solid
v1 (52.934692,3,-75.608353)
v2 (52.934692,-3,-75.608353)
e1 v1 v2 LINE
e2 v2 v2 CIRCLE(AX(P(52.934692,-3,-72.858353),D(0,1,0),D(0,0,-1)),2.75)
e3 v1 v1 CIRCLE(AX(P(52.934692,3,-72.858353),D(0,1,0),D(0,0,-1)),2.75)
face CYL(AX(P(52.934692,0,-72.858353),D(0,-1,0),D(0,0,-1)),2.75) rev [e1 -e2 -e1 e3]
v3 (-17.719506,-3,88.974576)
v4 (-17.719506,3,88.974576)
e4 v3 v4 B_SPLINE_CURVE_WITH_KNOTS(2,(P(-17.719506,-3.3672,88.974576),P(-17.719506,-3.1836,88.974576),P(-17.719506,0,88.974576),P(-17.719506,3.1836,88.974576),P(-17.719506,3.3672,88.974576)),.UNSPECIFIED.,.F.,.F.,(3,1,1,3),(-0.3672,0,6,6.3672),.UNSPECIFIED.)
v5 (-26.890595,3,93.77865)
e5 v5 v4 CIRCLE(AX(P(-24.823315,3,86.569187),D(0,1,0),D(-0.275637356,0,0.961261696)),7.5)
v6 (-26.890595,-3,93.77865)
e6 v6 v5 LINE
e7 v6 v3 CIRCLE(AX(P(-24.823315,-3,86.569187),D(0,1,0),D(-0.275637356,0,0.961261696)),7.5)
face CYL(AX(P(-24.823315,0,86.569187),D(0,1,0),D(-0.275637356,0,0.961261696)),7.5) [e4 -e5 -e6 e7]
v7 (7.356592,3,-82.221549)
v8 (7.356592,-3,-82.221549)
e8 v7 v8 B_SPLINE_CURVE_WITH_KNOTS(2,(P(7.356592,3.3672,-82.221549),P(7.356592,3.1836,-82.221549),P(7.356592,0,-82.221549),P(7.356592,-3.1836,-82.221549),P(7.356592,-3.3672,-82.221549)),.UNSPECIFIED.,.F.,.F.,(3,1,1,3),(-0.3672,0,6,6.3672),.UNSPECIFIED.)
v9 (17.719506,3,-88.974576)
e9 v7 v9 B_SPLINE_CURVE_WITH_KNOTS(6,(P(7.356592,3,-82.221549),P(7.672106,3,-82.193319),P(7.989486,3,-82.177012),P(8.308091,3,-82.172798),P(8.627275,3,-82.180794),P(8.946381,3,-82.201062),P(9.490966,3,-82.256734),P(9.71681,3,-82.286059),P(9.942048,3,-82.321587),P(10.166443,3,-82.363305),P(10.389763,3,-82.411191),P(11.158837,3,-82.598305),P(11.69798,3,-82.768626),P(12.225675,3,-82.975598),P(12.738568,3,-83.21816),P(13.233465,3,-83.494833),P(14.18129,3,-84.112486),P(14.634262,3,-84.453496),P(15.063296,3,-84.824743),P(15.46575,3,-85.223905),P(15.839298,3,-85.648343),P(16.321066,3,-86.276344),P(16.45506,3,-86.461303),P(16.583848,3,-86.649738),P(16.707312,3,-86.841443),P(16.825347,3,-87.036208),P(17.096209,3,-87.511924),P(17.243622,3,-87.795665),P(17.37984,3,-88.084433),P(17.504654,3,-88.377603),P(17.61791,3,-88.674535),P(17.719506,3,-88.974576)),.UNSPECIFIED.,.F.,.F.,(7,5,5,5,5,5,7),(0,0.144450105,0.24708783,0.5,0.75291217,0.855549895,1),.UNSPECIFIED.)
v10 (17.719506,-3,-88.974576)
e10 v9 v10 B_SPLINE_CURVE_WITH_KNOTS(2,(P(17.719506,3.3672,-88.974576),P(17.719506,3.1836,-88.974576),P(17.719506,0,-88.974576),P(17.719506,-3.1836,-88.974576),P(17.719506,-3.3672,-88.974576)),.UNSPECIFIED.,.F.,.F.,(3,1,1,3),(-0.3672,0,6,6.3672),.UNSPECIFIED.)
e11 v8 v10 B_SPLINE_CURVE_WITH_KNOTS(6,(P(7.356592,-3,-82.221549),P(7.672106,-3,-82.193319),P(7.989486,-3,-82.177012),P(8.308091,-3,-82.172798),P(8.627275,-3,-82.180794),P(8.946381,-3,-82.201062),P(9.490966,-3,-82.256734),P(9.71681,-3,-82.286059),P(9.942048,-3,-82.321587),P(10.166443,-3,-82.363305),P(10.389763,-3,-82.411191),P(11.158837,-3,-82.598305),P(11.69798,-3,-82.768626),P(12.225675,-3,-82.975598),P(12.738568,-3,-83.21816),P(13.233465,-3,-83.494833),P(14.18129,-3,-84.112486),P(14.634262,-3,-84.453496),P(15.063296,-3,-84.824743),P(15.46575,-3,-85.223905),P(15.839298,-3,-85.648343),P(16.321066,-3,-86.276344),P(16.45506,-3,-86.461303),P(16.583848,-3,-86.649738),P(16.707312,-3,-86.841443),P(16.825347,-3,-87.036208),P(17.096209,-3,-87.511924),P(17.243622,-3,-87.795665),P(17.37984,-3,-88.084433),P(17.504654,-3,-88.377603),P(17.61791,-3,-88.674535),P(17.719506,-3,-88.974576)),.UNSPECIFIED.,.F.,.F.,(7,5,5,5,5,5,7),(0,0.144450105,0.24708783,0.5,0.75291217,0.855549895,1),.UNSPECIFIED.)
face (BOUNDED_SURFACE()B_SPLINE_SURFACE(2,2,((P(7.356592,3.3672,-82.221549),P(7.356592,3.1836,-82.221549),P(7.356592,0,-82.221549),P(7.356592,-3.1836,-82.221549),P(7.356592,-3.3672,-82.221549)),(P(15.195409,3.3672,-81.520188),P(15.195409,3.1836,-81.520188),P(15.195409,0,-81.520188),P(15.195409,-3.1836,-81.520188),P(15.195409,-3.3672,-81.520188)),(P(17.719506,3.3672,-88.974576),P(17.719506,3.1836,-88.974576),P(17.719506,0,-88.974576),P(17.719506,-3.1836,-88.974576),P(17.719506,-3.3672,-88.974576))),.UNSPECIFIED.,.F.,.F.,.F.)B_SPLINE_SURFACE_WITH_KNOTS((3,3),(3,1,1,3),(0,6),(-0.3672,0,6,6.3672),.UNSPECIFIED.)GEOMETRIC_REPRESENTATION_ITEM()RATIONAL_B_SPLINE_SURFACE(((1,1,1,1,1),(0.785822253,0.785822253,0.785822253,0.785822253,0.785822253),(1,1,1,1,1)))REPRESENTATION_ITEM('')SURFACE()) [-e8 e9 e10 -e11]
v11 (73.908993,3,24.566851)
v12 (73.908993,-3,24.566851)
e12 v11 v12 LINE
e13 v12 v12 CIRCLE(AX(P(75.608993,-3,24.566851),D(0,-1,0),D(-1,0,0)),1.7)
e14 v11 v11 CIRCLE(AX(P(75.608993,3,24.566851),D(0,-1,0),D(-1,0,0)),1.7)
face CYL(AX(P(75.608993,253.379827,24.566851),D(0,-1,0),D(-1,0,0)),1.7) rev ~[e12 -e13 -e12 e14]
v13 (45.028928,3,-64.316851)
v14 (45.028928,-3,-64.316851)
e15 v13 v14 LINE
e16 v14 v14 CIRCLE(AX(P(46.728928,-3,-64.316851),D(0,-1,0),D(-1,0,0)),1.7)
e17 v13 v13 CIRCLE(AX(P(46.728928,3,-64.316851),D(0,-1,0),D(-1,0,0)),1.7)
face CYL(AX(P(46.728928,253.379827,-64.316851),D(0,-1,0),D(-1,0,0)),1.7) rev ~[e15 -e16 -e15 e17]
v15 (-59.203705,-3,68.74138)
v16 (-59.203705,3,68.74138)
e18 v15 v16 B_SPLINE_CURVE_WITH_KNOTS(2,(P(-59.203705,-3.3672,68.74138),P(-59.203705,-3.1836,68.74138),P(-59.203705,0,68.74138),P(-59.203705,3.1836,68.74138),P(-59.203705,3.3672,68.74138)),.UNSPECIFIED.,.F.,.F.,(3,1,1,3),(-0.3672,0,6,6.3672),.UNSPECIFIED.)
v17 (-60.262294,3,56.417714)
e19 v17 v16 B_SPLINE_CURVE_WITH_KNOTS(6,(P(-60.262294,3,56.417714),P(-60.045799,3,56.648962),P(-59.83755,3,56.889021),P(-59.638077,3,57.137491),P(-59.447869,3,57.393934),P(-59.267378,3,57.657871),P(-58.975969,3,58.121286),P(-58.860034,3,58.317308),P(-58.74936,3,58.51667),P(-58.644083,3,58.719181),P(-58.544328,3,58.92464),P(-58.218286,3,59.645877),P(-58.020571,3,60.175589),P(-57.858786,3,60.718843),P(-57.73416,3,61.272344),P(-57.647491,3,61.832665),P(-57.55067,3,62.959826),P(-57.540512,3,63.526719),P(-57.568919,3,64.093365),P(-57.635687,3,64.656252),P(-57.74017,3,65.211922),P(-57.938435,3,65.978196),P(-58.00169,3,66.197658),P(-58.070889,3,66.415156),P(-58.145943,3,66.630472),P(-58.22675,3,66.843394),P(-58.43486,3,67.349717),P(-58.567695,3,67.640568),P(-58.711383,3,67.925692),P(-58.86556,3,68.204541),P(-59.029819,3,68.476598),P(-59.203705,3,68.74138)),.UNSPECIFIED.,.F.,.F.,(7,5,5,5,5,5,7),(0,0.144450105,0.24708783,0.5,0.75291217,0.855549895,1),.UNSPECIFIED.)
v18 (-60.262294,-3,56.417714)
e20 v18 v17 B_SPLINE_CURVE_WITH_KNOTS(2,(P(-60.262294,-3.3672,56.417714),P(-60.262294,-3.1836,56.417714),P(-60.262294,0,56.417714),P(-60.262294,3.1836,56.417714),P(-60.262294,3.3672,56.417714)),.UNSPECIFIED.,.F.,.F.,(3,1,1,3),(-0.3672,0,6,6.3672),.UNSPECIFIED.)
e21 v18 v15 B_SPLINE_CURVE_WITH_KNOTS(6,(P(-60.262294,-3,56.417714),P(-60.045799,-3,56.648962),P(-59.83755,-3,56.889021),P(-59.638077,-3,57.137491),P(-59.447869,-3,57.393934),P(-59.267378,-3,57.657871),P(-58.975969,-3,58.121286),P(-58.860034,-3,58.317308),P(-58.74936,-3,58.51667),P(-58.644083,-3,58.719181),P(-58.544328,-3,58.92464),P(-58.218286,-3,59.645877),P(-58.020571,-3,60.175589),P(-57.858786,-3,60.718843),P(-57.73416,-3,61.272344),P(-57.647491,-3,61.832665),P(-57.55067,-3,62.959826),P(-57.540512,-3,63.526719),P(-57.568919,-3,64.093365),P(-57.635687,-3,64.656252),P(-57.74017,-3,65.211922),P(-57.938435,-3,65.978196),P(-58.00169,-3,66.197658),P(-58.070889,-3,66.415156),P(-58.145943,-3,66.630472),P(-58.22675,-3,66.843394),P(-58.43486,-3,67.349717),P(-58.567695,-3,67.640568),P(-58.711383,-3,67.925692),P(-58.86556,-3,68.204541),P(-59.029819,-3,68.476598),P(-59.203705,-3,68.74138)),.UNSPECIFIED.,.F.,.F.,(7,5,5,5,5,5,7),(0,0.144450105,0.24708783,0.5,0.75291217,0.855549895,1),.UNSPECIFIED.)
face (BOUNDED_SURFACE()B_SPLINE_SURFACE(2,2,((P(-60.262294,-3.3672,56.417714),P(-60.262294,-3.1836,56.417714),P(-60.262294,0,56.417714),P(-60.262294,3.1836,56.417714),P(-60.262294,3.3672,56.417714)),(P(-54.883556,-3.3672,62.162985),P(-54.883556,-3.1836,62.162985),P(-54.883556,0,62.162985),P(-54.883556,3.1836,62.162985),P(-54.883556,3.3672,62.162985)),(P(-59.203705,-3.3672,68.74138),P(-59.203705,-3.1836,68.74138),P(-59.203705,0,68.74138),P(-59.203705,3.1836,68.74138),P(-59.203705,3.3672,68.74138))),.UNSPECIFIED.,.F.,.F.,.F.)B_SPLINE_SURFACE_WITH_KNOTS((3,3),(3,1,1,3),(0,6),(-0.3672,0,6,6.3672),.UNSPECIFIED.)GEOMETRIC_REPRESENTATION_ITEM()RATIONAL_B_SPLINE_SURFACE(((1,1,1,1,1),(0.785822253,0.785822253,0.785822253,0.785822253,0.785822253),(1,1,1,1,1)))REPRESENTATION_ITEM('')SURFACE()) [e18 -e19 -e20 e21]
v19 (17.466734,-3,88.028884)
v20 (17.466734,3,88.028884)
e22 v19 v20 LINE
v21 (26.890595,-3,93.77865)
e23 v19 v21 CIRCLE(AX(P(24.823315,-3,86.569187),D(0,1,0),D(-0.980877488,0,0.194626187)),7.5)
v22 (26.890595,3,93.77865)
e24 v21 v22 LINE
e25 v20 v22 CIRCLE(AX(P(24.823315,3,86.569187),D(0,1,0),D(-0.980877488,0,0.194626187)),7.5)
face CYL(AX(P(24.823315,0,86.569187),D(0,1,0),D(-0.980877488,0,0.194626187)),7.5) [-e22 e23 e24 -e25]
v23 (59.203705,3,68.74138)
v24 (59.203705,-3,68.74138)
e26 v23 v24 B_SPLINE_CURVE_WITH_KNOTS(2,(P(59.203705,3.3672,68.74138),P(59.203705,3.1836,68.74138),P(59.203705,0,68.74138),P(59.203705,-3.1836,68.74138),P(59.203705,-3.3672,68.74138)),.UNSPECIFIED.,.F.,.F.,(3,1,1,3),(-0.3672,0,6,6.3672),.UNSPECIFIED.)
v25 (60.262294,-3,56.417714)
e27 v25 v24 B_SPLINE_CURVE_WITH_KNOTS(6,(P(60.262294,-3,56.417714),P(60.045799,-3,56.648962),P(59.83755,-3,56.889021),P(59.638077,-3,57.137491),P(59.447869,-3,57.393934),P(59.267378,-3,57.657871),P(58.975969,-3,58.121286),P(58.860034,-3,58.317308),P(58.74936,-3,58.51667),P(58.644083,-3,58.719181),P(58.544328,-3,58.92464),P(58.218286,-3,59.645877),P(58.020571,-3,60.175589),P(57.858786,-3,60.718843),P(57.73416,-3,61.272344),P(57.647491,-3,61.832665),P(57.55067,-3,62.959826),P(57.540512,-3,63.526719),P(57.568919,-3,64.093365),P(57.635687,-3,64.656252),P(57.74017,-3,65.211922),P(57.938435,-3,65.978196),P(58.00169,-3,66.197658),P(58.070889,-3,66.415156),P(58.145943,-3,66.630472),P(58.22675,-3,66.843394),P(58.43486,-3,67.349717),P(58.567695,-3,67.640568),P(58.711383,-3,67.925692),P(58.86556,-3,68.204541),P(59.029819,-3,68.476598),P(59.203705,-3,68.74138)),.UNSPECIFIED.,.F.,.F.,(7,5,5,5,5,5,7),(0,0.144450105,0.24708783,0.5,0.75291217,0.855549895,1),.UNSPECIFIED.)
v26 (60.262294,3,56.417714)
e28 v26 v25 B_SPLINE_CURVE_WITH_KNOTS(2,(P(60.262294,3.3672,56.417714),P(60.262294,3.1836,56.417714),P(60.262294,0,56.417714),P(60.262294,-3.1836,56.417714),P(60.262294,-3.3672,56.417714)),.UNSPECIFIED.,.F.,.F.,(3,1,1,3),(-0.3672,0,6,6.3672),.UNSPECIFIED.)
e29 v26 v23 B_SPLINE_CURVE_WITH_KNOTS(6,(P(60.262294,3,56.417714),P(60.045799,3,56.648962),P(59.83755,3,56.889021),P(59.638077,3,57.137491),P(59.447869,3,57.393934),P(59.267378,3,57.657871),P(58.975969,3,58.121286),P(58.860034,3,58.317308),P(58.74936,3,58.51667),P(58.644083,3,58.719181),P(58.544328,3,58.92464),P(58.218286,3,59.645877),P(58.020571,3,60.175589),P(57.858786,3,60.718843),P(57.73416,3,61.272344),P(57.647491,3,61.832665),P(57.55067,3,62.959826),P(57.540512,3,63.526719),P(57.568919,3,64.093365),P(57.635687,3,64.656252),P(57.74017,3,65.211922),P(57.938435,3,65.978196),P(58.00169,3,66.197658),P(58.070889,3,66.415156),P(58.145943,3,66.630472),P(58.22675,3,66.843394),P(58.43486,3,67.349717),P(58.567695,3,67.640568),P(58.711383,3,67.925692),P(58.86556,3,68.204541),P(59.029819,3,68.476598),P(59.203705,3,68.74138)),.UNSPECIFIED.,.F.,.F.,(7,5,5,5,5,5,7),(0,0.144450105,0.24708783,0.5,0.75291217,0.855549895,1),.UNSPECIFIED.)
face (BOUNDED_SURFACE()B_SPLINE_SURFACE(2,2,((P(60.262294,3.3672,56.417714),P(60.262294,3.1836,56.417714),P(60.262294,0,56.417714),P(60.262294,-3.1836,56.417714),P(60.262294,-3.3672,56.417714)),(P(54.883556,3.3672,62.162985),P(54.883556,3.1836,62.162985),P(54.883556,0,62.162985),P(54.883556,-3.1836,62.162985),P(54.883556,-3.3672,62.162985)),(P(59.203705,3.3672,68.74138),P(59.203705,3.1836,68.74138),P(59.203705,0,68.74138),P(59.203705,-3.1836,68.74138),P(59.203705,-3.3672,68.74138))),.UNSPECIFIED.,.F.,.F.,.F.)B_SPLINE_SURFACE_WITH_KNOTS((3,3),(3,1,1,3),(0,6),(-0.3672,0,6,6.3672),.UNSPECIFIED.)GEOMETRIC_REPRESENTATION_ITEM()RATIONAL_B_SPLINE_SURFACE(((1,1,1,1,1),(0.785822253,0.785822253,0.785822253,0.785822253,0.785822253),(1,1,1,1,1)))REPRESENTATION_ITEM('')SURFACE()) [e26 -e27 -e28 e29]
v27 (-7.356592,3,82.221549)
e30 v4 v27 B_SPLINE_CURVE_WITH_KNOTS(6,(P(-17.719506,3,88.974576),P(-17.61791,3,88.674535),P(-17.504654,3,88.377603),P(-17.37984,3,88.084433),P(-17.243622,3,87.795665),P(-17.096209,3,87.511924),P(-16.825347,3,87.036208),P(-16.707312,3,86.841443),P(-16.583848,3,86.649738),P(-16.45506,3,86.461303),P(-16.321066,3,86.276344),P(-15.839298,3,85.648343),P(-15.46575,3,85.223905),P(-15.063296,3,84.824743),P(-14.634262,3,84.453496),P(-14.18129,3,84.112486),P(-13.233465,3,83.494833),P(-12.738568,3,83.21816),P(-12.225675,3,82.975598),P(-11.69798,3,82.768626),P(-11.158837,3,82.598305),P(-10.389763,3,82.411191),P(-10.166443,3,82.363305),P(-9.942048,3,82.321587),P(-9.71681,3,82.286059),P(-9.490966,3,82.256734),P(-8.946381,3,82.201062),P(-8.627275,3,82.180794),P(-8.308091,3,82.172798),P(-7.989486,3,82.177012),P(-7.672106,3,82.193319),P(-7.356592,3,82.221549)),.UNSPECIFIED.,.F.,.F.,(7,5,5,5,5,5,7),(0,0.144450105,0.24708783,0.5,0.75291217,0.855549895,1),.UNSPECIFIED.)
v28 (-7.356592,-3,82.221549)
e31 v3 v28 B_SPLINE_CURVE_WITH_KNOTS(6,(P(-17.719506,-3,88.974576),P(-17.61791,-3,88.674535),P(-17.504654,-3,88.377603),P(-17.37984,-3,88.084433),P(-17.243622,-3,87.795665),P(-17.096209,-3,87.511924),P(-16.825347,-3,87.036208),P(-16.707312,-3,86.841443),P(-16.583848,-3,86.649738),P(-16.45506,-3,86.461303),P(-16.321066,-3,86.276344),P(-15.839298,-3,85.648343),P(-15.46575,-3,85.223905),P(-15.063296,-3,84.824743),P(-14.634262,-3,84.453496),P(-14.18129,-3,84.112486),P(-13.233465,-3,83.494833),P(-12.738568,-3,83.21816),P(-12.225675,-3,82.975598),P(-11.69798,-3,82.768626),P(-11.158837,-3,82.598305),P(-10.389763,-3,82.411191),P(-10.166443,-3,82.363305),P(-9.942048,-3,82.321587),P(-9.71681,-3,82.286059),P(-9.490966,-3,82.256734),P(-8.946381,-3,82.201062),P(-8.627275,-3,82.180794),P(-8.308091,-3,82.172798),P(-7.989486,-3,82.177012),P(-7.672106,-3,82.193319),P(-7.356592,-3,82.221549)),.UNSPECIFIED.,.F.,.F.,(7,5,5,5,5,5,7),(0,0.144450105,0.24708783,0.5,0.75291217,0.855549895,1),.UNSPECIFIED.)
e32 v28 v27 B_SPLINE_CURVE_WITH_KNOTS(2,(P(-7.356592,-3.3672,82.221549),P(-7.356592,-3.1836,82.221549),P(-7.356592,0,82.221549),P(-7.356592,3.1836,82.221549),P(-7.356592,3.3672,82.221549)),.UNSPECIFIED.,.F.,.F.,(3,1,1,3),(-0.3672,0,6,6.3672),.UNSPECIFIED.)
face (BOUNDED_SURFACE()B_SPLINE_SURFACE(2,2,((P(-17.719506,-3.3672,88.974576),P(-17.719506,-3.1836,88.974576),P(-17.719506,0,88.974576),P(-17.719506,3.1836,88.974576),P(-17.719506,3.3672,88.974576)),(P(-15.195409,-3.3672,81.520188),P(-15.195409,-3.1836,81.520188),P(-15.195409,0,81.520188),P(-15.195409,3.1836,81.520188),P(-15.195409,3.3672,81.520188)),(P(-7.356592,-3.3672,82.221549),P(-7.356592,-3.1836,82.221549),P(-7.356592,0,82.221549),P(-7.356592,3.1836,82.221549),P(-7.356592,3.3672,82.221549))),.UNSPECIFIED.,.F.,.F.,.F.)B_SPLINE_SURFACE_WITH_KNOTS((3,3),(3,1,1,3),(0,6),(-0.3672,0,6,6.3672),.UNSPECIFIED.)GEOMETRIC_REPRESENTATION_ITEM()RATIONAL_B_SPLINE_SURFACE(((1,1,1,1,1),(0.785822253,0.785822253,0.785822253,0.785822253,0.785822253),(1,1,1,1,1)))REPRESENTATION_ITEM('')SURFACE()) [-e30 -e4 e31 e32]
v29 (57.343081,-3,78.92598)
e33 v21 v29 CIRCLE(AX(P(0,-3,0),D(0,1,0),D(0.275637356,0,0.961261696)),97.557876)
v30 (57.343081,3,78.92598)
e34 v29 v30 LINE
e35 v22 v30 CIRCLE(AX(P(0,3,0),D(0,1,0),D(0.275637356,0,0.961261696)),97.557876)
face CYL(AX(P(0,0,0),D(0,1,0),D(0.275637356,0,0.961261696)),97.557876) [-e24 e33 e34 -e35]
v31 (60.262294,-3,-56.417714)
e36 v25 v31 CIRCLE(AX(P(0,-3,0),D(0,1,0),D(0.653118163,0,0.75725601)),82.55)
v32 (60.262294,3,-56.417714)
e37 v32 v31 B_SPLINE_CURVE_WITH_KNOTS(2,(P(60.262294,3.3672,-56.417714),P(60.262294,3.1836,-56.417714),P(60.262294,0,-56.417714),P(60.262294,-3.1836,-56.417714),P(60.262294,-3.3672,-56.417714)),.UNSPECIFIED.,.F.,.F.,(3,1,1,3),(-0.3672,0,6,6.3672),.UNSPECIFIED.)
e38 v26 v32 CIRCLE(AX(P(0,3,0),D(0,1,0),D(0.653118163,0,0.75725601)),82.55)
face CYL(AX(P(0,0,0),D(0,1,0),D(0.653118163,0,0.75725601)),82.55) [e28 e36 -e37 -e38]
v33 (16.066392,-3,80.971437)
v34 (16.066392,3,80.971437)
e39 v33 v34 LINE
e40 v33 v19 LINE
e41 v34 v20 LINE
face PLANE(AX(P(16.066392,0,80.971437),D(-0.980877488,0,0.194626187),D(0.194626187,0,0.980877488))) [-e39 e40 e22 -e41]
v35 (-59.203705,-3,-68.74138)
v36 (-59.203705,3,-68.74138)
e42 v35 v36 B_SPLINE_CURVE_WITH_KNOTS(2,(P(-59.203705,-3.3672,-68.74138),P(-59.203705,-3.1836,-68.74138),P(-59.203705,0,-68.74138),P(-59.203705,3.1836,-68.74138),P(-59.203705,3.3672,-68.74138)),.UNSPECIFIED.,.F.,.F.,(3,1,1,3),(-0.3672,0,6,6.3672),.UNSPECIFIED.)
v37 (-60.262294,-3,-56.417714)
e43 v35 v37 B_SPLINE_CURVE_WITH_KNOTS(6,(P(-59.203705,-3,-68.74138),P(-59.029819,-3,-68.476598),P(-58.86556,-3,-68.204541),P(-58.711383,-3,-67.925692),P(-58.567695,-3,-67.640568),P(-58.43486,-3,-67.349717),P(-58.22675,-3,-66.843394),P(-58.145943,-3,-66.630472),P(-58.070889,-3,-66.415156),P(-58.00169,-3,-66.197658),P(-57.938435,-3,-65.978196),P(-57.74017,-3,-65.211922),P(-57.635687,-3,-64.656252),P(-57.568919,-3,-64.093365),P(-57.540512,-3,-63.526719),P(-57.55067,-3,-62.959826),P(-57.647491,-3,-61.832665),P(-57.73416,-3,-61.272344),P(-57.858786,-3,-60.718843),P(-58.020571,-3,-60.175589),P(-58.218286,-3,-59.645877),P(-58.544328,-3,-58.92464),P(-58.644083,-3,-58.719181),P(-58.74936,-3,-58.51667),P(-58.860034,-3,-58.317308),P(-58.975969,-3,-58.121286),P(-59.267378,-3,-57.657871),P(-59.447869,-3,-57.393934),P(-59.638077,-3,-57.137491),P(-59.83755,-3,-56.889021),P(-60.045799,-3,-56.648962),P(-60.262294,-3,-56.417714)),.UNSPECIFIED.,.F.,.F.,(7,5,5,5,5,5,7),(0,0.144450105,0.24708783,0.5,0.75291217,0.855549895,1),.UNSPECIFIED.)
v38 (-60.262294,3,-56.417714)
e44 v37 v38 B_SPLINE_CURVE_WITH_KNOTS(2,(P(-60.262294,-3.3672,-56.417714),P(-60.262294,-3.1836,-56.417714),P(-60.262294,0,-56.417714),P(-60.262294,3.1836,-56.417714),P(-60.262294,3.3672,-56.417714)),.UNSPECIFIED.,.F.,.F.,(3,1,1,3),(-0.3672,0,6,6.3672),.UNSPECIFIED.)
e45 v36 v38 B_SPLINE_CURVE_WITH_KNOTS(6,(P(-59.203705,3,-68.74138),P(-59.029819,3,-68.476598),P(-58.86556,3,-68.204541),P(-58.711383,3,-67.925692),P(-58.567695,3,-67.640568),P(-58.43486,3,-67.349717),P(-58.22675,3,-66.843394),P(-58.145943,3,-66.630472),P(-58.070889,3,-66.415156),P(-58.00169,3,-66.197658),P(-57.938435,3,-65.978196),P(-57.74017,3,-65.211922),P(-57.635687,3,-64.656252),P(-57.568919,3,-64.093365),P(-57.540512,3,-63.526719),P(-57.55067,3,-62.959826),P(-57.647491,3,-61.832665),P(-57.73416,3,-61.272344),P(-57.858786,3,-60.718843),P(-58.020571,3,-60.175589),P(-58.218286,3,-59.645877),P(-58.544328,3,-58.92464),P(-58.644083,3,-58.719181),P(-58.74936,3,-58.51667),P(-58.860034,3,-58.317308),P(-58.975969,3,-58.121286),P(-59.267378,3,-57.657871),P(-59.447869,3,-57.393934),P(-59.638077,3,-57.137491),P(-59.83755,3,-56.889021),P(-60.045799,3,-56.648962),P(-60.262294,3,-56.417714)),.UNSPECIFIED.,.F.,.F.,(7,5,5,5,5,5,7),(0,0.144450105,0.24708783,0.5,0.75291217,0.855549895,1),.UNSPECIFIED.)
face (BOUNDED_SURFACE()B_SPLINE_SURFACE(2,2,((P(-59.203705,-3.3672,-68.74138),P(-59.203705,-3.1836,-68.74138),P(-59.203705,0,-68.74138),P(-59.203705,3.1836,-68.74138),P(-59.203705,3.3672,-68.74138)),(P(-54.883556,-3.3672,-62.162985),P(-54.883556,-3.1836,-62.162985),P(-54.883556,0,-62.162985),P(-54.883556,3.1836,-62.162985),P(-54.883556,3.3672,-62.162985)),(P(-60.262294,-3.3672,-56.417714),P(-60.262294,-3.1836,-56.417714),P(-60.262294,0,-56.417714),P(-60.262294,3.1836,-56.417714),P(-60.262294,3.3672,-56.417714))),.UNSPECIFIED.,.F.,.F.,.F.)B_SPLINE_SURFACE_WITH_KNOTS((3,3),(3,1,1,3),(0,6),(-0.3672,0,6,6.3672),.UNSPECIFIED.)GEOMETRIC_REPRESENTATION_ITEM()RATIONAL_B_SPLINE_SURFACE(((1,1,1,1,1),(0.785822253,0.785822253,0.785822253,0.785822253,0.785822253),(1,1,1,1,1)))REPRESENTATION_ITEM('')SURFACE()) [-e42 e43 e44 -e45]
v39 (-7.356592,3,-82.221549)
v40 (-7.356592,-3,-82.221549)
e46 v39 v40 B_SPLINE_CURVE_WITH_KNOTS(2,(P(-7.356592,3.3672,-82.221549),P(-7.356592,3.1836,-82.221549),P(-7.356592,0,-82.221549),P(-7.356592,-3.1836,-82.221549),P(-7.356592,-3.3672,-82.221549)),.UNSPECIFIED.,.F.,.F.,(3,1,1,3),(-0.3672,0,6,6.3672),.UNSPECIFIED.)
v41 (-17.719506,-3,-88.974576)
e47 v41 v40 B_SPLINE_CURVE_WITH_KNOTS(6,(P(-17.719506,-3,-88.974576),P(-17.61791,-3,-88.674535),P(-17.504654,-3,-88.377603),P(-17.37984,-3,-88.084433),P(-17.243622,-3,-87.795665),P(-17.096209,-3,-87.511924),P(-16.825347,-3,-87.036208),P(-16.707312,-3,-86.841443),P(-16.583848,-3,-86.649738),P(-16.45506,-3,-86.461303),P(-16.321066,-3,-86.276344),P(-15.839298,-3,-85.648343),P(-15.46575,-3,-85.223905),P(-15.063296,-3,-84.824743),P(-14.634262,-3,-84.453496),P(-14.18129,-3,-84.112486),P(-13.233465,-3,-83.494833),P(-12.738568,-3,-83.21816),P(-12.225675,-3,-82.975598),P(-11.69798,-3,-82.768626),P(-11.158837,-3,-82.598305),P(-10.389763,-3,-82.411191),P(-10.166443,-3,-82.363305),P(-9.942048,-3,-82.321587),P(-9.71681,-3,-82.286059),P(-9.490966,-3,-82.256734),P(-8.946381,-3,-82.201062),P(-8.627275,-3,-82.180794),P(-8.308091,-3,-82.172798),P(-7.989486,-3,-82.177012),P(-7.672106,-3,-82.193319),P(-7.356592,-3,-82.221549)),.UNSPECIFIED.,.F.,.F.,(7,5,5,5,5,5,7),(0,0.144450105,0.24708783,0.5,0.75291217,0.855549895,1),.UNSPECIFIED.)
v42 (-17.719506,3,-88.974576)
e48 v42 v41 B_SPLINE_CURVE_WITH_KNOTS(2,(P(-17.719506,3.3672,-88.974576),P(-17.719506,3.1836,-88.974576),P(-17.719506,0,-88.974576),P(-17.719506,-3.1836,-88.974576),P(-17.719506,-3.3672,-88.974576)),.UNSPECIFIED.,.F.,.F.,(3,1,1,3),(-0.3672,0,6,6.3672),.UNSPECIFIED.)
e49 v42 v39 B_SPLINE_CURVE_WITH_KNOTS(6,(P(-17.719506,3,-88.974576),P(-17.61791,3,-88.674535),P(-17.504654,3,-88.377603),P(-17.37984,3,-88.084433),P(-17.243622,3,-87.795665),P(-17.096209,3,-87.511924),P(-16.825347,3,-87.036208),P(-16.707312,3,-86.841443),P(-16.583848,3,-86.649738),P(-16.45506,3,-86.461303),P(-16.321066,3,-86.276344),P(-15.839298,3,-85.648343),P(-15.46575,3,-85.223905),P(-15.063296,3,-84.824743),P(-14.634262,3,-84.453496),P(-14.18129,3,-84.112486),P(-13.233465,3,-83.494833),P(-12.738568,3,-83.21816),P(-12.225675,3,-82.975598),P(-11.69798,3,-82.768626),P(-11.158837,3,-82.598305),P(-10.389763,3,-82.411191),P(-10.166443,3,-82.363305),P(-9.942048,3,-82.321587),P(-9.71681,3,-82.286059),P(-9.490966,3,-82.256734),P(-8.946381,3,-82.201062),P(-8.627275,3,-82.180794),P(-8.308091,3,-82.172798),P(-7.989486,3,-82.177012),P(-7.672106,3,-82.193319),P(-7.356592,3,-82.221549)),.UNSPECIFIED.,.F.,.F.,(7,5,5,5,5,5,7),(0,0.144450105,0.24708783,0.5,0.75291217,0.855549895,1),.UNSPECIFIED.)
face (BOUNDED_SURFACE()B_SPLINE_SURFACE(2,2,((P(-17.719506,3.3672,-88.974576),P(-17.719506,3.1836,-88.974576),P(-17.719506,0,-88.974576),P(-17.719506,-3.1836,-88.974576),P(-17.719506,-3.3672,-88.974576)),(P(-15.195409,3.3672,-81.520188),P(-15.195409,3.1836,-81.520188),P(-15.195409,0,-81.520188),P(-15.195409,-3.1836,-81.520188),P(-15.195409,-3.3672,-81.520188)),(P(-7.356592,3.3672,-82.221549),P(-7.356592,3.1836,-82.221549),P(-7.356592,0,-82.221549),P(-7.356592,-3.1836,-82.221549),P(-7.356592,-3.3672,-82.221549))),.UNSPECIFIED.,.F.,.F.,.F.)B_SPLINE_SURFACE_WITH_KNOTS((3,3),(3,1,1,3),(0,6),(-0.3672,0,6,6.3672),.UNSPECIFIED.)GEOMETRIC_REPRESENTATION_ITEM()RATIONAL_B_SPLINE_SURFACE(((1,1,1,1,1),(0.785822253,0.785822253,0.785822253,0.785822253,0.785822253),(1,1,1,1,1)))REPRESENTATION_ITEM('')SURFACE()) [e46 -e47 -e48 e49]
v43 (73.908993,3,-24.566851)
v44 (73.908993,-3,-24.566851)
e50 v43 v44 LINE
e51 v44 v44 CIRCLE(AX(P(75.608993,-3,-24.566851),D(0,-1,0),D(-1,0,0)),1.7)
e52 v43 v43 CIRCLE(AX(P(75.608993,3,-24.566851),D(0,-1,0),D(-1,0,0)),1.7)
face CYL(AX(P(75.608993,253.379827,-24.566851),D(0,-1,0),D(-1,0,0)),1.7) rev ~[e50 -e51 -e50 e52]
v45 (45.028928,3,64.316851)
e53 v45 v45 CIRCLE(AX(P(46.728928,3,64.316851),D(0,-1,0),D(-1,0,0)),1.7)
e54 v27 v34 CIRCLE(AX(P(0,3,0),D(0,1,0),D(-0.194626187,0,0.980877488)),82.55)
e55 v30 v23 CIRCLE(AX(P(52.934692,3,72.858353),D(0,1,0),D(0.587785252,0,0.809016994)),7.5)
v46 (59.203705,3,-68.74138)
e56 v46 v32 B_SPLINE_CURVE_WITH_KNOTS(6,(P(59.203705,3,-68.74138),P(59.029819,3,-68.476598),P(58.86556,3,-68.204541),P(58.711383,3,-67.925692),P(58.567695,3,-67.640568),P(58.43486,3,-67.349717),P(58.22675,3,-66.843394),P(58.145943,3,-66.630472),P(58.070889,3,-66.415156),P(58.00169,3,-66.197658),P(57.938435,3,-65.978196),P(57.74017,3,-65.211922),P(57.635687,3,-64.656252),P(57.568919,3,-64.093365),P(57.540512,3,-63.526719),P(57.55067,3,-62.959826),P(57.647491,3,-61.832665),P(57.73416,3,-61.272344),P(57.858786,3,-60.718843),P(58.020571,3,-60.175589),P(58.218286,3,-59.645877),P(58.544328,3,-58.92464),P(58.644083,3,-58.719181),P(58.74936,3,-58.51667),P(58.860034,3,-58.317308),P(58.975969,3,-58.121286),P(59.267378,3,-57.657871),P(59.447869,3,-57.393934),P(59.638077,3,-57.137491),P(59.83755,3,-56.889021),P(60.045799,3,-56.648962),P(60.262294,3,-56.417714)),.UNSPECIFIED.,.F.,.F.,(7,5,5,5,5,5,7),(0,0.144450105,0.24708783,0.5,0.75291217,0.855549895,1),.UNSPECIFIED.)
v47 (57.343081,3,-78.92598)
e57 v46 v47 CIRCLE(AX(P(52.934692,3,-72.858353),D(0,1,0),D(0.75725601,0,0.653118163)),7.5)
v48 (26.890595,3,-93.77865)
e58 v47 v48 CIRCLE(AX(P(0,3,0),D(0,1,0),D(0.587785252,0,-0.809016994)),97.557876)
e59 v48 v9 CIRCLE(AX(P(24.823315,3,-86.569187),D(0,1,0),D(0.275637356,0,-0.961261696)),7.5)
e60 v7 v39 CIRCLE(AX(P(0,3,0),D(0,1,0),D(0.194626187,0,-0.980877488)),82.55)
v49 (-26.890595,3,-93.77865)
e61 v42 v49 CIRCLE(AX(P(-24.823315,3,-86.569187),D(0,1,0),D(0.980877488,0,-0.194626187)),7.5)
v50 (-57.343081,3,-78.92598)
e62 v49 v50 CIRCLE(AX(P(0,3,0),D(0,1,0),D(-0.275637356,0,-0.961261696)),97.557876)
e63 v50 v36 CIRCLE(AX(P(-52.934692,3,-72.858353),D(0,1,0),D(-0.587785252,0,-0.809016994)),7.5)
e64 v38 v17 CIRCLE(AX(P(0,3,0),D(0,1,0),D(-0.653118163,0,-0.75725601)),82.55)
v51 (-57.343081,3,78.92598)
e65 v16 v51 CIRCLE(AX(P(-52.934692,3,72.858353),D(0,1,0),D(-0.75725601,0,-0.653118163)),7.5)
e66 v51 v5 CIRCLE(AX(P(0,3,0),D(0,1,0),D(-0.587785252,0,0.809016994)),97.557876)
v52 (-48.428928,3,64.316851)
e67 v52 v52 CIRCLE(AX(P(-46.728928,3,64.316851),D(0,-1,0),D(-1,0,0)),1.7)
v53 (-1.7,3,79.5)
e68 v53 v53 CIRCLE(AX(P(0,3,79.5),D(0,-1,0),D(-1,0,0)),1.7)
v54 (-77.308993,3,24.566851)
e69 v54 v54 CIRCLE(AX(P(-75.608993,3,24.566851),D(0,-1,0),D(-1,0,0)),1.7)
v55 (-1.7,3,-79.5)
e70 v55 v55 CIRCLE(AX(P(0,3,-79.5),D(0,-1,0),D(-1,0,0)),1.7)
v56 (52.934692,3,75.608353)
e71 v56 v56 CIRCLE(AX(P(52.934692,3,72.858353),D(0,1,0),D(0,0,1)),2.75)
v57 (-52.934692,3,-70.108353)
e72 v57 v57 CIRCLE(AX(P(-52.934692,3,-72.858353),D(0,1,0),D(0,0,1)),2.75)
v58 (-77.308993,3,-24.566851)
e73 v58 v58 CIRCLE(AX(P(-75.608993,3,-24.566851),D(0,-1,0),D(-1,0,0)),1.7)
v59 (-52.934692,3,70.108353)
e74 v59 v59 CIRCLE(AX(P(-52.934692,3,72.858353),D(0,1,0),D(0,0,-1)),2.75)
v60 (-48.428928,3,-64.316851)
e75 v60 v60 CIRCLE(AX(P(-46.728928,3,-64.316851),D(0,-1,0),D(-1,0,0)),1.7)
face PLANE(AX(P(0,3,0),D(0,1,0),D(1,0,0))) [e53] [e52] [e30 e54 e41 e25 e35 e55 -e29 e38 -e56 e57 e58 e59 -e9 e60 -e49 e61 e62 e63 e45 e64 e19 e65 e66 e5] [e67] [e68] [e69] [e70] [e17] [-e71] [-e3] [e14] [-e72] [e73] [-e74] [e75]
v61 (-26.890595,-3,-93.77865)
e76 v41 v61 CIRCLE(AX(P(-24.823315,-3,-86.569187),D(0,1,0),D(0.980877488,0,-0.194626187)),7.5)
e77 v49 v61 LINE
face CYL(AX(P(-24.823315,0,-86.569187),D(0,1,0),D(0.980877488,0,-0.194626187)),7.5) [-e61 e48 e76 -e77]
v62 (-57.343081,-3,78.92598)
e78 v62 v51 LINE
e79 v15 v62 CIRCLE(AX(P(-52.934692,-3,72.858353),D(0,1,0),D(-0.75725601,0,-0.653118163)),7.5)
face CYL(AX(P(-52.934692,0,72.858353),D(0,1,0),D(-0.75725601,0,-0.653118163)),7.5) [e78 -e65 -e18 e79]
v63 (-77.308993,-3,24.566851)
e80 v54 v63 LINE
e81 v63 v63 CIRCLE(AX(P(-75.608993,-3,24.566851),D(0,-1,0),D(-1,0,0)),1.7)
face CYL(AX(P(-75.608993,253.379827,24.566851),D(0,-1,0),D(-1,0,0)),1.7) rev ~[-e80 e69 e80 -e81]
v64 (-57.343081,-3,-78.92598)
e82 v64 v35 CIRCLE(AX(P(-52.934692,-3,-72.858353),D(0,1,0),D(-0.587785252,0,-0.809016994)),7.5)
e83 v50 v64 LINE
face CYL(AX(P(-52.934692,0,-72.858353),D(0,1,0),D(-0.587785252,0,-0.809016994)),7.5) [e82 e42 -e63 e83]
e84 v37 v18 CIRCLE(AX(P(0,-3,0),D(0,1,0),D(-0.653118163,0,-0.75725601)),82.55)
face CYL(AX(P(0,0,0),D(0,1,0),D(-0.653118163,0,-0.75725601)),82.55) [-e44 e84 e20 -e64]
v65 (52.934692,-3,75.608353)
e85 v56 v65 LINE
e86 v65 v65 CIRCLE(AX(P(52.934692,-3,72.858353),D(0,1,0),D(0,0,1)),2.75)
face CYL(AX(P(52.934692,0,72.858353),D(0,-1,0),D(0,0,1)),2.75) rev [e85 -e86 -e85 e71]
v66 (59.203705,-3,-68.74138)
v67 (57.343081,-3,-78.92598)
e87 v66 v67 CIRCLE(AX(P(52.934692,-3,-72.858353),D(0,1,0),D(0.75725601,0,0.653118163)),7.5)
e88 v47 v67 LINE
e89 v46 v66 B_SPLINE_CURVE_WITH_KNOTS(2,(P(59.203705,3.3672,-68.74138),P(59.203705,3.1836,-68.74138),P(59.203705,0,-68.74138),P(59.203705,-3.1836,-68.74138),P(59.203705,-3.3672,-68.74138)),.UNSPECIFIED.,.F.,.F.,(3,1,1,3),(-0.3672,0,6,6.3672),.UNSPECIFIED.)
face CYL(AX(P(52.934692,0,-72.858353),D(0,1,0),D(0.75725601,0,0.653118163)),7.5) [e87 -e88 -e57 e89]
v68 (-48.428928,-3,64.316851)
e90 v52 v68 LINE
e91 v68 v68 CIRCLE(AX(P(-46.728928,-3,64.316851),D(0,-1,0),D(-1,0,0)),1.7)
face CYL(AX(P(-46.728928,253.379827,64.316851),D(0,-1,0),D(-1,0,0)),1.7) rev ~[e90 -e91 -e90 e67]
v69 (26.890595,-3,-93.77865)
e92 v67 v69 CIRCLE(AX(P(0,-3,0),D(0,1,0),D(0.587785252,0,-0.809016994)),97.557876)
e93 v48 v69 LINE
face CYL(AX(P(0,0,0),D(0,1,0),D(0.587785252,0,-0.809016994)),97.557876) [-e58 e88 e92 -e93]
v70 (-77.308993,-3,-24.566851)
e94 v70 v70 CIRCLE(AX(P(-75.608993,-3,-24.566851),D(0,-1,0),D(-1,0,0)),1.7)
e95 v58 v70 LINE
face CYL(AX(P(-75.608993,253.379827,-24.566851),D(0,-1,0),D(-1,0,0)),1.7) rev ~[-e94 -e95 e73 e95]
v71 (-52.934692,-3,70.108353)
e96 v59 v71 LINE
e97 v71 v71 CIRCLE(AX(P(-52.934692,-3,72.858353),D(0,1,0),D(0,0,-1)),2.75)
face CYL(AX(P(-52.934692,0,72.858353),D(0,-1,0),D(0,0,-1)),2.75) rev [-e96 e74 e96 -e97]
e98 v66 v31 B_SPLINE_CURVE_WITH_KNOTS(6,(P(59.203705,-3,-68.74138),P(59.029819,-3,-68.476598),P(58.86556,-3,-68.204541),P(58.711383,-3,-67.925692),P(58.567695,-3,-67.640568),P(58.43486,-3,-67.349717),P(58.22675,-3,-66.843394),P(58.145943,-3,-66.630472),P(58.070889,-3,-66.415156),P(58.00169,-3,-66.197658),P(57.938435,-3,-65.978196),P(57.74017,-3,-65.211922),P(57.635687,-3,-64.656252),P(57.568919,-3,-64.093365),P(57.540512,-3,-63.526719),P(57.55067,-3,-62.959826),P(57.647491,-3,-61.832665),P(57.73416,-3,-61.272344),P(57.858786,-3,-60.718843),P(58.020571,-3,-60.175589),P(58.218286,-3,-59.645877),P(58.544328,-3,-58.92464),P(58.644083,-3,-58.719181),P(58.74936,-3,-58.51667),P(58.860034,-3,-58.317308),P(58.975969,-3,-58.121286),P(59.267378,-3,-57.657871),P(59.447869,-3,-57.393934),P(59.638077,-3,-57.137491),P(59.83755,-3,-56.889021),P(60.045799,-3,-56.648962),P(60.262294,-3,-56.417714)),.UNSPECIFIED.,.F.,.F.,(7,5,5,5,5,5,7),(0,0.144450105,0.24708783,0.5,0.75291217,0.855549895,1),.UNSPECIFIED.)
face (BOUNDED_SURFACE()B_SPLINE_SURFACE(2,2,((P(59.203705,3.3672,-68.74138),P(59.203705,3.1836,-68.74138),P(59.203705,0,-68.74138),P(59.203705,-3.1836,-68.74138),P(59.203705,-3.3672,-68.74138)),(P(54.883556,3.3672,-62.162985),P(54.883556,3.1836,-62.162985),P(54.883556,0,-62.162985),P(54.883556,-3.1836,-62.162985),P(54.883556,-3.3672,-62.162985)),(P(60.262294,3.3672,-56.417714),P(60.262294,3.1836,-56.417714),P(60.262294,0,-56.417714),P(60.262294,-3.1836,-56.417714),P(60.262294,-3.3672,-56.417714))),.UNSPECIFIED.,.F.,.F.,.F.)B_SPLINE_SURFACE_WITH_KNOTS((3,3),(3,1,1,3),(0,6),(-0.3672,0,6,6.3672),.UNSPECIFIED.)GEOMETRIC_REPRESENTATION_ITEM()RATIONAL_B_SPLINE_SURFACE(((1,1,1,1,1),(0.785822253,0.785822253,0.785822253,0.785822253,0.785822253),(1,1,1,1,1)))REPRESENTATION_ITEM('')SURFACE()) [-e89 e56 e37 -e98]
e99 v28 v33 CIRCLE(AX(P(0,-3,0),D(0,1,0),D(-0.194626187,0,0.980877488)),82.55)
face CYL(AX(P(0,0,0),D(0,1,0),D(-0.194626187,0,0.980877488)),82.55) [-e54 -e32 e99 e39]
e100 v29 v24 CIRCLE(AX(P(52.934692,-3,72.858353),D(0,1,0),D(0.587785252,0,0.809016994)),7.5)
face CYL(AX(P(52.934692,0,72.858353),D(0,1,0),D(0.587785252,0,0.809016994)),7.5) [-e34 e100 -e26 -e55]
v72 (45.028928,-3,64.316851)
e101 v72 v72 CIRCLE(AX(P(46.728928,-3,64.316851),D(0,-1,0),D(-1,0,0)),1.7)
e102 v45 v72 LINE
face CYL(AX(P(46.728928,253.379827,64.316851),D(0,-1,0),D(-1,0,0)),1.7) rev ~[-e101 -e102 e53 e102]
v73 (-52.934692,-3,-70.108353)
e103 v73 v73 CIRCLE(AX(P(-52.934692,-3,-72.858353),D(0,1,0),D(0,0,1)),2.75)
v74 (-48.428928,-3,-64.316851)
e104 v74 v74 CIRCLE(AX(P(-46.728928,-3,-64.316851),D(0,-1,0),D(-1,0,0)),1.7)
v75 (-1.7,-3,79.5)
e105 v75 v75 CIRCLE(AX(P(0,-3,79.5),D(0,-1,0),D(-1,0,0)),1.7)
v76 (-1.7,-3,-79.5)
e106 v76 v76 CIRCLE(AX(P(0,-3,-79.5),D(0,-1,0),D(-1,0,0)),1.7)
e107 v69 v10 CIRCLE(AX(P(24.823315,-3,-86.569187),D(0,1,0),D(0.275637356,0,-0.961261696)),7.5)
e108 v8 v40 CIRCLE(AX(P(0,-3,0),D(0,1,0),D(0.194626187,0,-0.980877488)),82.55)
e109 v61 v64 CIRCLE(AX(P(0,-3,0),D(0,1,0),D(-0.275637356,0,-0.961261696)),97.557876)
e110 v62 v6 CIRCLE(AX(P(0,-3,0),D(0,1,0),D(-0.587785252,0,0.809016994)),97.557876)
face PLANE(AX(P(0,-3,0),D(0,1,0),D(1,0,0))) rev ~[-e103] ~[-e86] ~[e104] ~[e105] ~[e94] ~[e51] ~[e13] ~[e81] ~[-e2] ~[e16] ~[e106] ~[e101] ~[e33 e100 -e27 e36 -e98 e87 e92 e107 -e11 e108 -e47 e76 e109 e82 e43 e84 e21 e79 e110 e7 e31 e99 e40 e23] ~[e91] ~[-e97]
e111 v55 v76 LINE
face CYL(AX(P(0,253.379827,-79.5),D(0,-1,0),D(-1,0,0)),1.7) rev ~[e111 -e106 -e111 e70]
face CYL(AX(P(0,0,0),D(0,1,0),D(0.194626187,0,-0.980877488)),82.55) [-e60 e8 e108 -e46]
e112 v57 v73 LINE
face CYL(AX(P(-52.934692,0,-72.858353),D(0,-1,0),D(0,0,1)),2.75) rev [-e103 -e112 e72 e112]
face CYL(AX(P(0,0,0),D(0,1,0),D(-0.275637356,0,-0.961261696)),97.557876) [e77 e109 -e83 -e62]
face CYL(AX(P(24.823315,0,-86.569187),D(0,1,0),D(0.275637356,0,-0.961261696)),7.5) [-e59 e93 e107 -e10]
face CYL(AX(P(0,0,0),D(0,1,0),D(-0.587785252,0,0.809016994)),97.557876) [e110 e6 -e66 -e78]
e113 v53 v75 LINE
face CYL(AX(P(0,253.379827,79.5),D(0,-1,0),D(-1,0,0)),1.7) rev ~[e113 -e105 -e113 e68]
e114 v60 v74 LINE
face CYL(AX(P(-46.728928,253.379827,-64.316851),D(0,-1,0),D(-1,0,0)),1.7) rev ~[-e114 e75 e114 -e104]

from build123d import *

# Parameters (mm, degrees)
SKETCH1_R            = 2.75
BOSS_EXTRUDE1_DEPTH  = 3
M3_CLEARANCE_HOLE1_D = 3.4
FILLET2_R            = 10


with BuildPart() as part:
    # Sketch1 → Boss-Extrude1 (new, symmetric)
    with BuildSketch(Plane(origin=(0, 0, 0), x_dir=(1, 0, 0), z_dir=(0, 1, 0))):
        with BuildLine():
            Line((-58.614111744, 67.959966353), (-53.914904373, 62.511483636))
            ThreePointArc((-53.914904373, 62.511483636), (-82.55, 0), (-53.914904373, -62.511483636))
            Line((-53.914904373, -62.511483636), (-58.614111744, -67.959966353))
            ThreePointArc((-58.614111744, -67.959966353), (-60.384815089, -73.721869234), (-57.34308106, -78.925980035))
            ThreePointArc((-57.34308106, -78.925980035), (-42.766558206, -87.684438581), (-26.890595122, -93.77864983))
            ThreePointArc((-26.890595122, -93.77864983), (-20.917021387, -92.971598421), (-17.46673379, -88.028883515))
            Line((-17.46673379, -88.028883515), (-16.066391761, -80.971436666))
            ThreePointArc((-16.066391761, -80.971436666), (0, -82.55), (16.066391761, -80.971436666))
            Line((16.066391761, -80.971436666), (17.46673379, -88.028883515))
            ThreePointArc((17.46673379, -88.028883515), (20.917021387, -92.971598421), (26.890595122, -93.77864983))
            ThreePointArc((26.890595122, -93.77864983), (42.766558206, -87.684438581), (57.34308106, -78.925980035))
            ThreePointArc((57.34308106, -78.925980035), (60.384815089, -73.721869234), (58.614111744, -67.959966353))
            Line((58.614111744, -67.959966353), (53.914904373, -62.511483636))
            ThreePointArc((53.914904373, -62.511483636), (82.55, 0), (53.914904373, 62.511483636))
            Line((53.914904373, 62.511483636), (58.614111744, 67.959966353))
            ThreePointArc((58.614111744, 67.959966353), (60.384815089, 73.721869234), (57.34308106, 78.925980035))
            ThreePointArc((57.34308106, 78.925980035), (42.766558206, 87.684438581), (26.890595122, 93.77864983))
            ThreePointArc((26.890595122, 93.77864983), (20.917021387, 92.971598421), (17.46673379, 88.028883515))
            Line((17.46673379, 88.028883515), (16.066391761, 80.971436666))
            ThreePointArc((16.066391761, 80.971436666), (0, 82.55), (-16.066391761, 80.971436666))
            Line((-16.066391761, 80.971436666), (-17.46673379, 88.028883515))
            ThreePointArc((-17.46673379, 88.028883515), (-20.917021387, 92.971598421), (-26.890595122, 93.77864983))
            ThreePointArc((-26.890595122, 93.77864983), (-42.766558206, 87.684438581), (-57.34308106, 78.925980035))
            ThreePointArc((-57.34308106, 78.925980035), (-60.384815089, 73.721869234), (-58.614111744, 67.959966353))
        make_face()
        with Locations(Location((52.934691668, -72.858352577, 0), (0, 0, 270))):
            Circle(SKETCH1_R, mode=Mode.SUBTRACT)
        with Locations(Location((52.934691668, 72.858352577, 0), (0, 0, 90))):
            Circle(SKETCH1_R, mode=Mode.SUBTRACT)
        with Locations(Location((-52.934691668, -72.858352577, 0), (0, 0, 90))):
            Circle(SKETCH1_R, mode=Mode.SUBTRACT)
        with Locations(Location((-52.934691668, 72.858352577, 0), (0, 0, 270))):
            Circle(SKETCH1_R, mode=Mode.SUBTRACT)
    extrude(amount=BOSS_EXTRUDE1_DEPTH, both=True)

    # M3 Clearance Hole1 (through all)
    with Locations(Plane(origin=(0, 3, 0), x_dir=(1, 0, 0), z_dir=(0, 1, 0))):
        with Locations((0, 79.5), (46.728927557, 64.316851053), (75.608993045, 24.566851053), (75.608993045, -24.566851053), (46.728927557, -64.316851053), (0, -79.5), (-46.728927557, -64.316851053), (-75.608993045, -24.566851053), (-75.608993045, 24.566851053), (-46.728927557, 64.316851053)):
            Hole(M3_CLEARANCE_HOLE1_D / 2)

    # Fillet2
    fillet2_edges = [part.edges().sort_by_distance(p)[0] for p in [
        (-53.914904373, 0, 62.511483636),
        (-53.914904373, 0, -62.511483636),
        (-16.066391761, 0, 80.971436666),
        (53.914904373, 0, 62.511483636),
        (53.914904373, 0, -62.511483636),
        (16.066391761, 0, -80.971436666),
        (-16.066391761, 0, -80.971436666),
    ]]
    fillet(fillet2_edges, radius=FILLET2_R)


solid = part.part
